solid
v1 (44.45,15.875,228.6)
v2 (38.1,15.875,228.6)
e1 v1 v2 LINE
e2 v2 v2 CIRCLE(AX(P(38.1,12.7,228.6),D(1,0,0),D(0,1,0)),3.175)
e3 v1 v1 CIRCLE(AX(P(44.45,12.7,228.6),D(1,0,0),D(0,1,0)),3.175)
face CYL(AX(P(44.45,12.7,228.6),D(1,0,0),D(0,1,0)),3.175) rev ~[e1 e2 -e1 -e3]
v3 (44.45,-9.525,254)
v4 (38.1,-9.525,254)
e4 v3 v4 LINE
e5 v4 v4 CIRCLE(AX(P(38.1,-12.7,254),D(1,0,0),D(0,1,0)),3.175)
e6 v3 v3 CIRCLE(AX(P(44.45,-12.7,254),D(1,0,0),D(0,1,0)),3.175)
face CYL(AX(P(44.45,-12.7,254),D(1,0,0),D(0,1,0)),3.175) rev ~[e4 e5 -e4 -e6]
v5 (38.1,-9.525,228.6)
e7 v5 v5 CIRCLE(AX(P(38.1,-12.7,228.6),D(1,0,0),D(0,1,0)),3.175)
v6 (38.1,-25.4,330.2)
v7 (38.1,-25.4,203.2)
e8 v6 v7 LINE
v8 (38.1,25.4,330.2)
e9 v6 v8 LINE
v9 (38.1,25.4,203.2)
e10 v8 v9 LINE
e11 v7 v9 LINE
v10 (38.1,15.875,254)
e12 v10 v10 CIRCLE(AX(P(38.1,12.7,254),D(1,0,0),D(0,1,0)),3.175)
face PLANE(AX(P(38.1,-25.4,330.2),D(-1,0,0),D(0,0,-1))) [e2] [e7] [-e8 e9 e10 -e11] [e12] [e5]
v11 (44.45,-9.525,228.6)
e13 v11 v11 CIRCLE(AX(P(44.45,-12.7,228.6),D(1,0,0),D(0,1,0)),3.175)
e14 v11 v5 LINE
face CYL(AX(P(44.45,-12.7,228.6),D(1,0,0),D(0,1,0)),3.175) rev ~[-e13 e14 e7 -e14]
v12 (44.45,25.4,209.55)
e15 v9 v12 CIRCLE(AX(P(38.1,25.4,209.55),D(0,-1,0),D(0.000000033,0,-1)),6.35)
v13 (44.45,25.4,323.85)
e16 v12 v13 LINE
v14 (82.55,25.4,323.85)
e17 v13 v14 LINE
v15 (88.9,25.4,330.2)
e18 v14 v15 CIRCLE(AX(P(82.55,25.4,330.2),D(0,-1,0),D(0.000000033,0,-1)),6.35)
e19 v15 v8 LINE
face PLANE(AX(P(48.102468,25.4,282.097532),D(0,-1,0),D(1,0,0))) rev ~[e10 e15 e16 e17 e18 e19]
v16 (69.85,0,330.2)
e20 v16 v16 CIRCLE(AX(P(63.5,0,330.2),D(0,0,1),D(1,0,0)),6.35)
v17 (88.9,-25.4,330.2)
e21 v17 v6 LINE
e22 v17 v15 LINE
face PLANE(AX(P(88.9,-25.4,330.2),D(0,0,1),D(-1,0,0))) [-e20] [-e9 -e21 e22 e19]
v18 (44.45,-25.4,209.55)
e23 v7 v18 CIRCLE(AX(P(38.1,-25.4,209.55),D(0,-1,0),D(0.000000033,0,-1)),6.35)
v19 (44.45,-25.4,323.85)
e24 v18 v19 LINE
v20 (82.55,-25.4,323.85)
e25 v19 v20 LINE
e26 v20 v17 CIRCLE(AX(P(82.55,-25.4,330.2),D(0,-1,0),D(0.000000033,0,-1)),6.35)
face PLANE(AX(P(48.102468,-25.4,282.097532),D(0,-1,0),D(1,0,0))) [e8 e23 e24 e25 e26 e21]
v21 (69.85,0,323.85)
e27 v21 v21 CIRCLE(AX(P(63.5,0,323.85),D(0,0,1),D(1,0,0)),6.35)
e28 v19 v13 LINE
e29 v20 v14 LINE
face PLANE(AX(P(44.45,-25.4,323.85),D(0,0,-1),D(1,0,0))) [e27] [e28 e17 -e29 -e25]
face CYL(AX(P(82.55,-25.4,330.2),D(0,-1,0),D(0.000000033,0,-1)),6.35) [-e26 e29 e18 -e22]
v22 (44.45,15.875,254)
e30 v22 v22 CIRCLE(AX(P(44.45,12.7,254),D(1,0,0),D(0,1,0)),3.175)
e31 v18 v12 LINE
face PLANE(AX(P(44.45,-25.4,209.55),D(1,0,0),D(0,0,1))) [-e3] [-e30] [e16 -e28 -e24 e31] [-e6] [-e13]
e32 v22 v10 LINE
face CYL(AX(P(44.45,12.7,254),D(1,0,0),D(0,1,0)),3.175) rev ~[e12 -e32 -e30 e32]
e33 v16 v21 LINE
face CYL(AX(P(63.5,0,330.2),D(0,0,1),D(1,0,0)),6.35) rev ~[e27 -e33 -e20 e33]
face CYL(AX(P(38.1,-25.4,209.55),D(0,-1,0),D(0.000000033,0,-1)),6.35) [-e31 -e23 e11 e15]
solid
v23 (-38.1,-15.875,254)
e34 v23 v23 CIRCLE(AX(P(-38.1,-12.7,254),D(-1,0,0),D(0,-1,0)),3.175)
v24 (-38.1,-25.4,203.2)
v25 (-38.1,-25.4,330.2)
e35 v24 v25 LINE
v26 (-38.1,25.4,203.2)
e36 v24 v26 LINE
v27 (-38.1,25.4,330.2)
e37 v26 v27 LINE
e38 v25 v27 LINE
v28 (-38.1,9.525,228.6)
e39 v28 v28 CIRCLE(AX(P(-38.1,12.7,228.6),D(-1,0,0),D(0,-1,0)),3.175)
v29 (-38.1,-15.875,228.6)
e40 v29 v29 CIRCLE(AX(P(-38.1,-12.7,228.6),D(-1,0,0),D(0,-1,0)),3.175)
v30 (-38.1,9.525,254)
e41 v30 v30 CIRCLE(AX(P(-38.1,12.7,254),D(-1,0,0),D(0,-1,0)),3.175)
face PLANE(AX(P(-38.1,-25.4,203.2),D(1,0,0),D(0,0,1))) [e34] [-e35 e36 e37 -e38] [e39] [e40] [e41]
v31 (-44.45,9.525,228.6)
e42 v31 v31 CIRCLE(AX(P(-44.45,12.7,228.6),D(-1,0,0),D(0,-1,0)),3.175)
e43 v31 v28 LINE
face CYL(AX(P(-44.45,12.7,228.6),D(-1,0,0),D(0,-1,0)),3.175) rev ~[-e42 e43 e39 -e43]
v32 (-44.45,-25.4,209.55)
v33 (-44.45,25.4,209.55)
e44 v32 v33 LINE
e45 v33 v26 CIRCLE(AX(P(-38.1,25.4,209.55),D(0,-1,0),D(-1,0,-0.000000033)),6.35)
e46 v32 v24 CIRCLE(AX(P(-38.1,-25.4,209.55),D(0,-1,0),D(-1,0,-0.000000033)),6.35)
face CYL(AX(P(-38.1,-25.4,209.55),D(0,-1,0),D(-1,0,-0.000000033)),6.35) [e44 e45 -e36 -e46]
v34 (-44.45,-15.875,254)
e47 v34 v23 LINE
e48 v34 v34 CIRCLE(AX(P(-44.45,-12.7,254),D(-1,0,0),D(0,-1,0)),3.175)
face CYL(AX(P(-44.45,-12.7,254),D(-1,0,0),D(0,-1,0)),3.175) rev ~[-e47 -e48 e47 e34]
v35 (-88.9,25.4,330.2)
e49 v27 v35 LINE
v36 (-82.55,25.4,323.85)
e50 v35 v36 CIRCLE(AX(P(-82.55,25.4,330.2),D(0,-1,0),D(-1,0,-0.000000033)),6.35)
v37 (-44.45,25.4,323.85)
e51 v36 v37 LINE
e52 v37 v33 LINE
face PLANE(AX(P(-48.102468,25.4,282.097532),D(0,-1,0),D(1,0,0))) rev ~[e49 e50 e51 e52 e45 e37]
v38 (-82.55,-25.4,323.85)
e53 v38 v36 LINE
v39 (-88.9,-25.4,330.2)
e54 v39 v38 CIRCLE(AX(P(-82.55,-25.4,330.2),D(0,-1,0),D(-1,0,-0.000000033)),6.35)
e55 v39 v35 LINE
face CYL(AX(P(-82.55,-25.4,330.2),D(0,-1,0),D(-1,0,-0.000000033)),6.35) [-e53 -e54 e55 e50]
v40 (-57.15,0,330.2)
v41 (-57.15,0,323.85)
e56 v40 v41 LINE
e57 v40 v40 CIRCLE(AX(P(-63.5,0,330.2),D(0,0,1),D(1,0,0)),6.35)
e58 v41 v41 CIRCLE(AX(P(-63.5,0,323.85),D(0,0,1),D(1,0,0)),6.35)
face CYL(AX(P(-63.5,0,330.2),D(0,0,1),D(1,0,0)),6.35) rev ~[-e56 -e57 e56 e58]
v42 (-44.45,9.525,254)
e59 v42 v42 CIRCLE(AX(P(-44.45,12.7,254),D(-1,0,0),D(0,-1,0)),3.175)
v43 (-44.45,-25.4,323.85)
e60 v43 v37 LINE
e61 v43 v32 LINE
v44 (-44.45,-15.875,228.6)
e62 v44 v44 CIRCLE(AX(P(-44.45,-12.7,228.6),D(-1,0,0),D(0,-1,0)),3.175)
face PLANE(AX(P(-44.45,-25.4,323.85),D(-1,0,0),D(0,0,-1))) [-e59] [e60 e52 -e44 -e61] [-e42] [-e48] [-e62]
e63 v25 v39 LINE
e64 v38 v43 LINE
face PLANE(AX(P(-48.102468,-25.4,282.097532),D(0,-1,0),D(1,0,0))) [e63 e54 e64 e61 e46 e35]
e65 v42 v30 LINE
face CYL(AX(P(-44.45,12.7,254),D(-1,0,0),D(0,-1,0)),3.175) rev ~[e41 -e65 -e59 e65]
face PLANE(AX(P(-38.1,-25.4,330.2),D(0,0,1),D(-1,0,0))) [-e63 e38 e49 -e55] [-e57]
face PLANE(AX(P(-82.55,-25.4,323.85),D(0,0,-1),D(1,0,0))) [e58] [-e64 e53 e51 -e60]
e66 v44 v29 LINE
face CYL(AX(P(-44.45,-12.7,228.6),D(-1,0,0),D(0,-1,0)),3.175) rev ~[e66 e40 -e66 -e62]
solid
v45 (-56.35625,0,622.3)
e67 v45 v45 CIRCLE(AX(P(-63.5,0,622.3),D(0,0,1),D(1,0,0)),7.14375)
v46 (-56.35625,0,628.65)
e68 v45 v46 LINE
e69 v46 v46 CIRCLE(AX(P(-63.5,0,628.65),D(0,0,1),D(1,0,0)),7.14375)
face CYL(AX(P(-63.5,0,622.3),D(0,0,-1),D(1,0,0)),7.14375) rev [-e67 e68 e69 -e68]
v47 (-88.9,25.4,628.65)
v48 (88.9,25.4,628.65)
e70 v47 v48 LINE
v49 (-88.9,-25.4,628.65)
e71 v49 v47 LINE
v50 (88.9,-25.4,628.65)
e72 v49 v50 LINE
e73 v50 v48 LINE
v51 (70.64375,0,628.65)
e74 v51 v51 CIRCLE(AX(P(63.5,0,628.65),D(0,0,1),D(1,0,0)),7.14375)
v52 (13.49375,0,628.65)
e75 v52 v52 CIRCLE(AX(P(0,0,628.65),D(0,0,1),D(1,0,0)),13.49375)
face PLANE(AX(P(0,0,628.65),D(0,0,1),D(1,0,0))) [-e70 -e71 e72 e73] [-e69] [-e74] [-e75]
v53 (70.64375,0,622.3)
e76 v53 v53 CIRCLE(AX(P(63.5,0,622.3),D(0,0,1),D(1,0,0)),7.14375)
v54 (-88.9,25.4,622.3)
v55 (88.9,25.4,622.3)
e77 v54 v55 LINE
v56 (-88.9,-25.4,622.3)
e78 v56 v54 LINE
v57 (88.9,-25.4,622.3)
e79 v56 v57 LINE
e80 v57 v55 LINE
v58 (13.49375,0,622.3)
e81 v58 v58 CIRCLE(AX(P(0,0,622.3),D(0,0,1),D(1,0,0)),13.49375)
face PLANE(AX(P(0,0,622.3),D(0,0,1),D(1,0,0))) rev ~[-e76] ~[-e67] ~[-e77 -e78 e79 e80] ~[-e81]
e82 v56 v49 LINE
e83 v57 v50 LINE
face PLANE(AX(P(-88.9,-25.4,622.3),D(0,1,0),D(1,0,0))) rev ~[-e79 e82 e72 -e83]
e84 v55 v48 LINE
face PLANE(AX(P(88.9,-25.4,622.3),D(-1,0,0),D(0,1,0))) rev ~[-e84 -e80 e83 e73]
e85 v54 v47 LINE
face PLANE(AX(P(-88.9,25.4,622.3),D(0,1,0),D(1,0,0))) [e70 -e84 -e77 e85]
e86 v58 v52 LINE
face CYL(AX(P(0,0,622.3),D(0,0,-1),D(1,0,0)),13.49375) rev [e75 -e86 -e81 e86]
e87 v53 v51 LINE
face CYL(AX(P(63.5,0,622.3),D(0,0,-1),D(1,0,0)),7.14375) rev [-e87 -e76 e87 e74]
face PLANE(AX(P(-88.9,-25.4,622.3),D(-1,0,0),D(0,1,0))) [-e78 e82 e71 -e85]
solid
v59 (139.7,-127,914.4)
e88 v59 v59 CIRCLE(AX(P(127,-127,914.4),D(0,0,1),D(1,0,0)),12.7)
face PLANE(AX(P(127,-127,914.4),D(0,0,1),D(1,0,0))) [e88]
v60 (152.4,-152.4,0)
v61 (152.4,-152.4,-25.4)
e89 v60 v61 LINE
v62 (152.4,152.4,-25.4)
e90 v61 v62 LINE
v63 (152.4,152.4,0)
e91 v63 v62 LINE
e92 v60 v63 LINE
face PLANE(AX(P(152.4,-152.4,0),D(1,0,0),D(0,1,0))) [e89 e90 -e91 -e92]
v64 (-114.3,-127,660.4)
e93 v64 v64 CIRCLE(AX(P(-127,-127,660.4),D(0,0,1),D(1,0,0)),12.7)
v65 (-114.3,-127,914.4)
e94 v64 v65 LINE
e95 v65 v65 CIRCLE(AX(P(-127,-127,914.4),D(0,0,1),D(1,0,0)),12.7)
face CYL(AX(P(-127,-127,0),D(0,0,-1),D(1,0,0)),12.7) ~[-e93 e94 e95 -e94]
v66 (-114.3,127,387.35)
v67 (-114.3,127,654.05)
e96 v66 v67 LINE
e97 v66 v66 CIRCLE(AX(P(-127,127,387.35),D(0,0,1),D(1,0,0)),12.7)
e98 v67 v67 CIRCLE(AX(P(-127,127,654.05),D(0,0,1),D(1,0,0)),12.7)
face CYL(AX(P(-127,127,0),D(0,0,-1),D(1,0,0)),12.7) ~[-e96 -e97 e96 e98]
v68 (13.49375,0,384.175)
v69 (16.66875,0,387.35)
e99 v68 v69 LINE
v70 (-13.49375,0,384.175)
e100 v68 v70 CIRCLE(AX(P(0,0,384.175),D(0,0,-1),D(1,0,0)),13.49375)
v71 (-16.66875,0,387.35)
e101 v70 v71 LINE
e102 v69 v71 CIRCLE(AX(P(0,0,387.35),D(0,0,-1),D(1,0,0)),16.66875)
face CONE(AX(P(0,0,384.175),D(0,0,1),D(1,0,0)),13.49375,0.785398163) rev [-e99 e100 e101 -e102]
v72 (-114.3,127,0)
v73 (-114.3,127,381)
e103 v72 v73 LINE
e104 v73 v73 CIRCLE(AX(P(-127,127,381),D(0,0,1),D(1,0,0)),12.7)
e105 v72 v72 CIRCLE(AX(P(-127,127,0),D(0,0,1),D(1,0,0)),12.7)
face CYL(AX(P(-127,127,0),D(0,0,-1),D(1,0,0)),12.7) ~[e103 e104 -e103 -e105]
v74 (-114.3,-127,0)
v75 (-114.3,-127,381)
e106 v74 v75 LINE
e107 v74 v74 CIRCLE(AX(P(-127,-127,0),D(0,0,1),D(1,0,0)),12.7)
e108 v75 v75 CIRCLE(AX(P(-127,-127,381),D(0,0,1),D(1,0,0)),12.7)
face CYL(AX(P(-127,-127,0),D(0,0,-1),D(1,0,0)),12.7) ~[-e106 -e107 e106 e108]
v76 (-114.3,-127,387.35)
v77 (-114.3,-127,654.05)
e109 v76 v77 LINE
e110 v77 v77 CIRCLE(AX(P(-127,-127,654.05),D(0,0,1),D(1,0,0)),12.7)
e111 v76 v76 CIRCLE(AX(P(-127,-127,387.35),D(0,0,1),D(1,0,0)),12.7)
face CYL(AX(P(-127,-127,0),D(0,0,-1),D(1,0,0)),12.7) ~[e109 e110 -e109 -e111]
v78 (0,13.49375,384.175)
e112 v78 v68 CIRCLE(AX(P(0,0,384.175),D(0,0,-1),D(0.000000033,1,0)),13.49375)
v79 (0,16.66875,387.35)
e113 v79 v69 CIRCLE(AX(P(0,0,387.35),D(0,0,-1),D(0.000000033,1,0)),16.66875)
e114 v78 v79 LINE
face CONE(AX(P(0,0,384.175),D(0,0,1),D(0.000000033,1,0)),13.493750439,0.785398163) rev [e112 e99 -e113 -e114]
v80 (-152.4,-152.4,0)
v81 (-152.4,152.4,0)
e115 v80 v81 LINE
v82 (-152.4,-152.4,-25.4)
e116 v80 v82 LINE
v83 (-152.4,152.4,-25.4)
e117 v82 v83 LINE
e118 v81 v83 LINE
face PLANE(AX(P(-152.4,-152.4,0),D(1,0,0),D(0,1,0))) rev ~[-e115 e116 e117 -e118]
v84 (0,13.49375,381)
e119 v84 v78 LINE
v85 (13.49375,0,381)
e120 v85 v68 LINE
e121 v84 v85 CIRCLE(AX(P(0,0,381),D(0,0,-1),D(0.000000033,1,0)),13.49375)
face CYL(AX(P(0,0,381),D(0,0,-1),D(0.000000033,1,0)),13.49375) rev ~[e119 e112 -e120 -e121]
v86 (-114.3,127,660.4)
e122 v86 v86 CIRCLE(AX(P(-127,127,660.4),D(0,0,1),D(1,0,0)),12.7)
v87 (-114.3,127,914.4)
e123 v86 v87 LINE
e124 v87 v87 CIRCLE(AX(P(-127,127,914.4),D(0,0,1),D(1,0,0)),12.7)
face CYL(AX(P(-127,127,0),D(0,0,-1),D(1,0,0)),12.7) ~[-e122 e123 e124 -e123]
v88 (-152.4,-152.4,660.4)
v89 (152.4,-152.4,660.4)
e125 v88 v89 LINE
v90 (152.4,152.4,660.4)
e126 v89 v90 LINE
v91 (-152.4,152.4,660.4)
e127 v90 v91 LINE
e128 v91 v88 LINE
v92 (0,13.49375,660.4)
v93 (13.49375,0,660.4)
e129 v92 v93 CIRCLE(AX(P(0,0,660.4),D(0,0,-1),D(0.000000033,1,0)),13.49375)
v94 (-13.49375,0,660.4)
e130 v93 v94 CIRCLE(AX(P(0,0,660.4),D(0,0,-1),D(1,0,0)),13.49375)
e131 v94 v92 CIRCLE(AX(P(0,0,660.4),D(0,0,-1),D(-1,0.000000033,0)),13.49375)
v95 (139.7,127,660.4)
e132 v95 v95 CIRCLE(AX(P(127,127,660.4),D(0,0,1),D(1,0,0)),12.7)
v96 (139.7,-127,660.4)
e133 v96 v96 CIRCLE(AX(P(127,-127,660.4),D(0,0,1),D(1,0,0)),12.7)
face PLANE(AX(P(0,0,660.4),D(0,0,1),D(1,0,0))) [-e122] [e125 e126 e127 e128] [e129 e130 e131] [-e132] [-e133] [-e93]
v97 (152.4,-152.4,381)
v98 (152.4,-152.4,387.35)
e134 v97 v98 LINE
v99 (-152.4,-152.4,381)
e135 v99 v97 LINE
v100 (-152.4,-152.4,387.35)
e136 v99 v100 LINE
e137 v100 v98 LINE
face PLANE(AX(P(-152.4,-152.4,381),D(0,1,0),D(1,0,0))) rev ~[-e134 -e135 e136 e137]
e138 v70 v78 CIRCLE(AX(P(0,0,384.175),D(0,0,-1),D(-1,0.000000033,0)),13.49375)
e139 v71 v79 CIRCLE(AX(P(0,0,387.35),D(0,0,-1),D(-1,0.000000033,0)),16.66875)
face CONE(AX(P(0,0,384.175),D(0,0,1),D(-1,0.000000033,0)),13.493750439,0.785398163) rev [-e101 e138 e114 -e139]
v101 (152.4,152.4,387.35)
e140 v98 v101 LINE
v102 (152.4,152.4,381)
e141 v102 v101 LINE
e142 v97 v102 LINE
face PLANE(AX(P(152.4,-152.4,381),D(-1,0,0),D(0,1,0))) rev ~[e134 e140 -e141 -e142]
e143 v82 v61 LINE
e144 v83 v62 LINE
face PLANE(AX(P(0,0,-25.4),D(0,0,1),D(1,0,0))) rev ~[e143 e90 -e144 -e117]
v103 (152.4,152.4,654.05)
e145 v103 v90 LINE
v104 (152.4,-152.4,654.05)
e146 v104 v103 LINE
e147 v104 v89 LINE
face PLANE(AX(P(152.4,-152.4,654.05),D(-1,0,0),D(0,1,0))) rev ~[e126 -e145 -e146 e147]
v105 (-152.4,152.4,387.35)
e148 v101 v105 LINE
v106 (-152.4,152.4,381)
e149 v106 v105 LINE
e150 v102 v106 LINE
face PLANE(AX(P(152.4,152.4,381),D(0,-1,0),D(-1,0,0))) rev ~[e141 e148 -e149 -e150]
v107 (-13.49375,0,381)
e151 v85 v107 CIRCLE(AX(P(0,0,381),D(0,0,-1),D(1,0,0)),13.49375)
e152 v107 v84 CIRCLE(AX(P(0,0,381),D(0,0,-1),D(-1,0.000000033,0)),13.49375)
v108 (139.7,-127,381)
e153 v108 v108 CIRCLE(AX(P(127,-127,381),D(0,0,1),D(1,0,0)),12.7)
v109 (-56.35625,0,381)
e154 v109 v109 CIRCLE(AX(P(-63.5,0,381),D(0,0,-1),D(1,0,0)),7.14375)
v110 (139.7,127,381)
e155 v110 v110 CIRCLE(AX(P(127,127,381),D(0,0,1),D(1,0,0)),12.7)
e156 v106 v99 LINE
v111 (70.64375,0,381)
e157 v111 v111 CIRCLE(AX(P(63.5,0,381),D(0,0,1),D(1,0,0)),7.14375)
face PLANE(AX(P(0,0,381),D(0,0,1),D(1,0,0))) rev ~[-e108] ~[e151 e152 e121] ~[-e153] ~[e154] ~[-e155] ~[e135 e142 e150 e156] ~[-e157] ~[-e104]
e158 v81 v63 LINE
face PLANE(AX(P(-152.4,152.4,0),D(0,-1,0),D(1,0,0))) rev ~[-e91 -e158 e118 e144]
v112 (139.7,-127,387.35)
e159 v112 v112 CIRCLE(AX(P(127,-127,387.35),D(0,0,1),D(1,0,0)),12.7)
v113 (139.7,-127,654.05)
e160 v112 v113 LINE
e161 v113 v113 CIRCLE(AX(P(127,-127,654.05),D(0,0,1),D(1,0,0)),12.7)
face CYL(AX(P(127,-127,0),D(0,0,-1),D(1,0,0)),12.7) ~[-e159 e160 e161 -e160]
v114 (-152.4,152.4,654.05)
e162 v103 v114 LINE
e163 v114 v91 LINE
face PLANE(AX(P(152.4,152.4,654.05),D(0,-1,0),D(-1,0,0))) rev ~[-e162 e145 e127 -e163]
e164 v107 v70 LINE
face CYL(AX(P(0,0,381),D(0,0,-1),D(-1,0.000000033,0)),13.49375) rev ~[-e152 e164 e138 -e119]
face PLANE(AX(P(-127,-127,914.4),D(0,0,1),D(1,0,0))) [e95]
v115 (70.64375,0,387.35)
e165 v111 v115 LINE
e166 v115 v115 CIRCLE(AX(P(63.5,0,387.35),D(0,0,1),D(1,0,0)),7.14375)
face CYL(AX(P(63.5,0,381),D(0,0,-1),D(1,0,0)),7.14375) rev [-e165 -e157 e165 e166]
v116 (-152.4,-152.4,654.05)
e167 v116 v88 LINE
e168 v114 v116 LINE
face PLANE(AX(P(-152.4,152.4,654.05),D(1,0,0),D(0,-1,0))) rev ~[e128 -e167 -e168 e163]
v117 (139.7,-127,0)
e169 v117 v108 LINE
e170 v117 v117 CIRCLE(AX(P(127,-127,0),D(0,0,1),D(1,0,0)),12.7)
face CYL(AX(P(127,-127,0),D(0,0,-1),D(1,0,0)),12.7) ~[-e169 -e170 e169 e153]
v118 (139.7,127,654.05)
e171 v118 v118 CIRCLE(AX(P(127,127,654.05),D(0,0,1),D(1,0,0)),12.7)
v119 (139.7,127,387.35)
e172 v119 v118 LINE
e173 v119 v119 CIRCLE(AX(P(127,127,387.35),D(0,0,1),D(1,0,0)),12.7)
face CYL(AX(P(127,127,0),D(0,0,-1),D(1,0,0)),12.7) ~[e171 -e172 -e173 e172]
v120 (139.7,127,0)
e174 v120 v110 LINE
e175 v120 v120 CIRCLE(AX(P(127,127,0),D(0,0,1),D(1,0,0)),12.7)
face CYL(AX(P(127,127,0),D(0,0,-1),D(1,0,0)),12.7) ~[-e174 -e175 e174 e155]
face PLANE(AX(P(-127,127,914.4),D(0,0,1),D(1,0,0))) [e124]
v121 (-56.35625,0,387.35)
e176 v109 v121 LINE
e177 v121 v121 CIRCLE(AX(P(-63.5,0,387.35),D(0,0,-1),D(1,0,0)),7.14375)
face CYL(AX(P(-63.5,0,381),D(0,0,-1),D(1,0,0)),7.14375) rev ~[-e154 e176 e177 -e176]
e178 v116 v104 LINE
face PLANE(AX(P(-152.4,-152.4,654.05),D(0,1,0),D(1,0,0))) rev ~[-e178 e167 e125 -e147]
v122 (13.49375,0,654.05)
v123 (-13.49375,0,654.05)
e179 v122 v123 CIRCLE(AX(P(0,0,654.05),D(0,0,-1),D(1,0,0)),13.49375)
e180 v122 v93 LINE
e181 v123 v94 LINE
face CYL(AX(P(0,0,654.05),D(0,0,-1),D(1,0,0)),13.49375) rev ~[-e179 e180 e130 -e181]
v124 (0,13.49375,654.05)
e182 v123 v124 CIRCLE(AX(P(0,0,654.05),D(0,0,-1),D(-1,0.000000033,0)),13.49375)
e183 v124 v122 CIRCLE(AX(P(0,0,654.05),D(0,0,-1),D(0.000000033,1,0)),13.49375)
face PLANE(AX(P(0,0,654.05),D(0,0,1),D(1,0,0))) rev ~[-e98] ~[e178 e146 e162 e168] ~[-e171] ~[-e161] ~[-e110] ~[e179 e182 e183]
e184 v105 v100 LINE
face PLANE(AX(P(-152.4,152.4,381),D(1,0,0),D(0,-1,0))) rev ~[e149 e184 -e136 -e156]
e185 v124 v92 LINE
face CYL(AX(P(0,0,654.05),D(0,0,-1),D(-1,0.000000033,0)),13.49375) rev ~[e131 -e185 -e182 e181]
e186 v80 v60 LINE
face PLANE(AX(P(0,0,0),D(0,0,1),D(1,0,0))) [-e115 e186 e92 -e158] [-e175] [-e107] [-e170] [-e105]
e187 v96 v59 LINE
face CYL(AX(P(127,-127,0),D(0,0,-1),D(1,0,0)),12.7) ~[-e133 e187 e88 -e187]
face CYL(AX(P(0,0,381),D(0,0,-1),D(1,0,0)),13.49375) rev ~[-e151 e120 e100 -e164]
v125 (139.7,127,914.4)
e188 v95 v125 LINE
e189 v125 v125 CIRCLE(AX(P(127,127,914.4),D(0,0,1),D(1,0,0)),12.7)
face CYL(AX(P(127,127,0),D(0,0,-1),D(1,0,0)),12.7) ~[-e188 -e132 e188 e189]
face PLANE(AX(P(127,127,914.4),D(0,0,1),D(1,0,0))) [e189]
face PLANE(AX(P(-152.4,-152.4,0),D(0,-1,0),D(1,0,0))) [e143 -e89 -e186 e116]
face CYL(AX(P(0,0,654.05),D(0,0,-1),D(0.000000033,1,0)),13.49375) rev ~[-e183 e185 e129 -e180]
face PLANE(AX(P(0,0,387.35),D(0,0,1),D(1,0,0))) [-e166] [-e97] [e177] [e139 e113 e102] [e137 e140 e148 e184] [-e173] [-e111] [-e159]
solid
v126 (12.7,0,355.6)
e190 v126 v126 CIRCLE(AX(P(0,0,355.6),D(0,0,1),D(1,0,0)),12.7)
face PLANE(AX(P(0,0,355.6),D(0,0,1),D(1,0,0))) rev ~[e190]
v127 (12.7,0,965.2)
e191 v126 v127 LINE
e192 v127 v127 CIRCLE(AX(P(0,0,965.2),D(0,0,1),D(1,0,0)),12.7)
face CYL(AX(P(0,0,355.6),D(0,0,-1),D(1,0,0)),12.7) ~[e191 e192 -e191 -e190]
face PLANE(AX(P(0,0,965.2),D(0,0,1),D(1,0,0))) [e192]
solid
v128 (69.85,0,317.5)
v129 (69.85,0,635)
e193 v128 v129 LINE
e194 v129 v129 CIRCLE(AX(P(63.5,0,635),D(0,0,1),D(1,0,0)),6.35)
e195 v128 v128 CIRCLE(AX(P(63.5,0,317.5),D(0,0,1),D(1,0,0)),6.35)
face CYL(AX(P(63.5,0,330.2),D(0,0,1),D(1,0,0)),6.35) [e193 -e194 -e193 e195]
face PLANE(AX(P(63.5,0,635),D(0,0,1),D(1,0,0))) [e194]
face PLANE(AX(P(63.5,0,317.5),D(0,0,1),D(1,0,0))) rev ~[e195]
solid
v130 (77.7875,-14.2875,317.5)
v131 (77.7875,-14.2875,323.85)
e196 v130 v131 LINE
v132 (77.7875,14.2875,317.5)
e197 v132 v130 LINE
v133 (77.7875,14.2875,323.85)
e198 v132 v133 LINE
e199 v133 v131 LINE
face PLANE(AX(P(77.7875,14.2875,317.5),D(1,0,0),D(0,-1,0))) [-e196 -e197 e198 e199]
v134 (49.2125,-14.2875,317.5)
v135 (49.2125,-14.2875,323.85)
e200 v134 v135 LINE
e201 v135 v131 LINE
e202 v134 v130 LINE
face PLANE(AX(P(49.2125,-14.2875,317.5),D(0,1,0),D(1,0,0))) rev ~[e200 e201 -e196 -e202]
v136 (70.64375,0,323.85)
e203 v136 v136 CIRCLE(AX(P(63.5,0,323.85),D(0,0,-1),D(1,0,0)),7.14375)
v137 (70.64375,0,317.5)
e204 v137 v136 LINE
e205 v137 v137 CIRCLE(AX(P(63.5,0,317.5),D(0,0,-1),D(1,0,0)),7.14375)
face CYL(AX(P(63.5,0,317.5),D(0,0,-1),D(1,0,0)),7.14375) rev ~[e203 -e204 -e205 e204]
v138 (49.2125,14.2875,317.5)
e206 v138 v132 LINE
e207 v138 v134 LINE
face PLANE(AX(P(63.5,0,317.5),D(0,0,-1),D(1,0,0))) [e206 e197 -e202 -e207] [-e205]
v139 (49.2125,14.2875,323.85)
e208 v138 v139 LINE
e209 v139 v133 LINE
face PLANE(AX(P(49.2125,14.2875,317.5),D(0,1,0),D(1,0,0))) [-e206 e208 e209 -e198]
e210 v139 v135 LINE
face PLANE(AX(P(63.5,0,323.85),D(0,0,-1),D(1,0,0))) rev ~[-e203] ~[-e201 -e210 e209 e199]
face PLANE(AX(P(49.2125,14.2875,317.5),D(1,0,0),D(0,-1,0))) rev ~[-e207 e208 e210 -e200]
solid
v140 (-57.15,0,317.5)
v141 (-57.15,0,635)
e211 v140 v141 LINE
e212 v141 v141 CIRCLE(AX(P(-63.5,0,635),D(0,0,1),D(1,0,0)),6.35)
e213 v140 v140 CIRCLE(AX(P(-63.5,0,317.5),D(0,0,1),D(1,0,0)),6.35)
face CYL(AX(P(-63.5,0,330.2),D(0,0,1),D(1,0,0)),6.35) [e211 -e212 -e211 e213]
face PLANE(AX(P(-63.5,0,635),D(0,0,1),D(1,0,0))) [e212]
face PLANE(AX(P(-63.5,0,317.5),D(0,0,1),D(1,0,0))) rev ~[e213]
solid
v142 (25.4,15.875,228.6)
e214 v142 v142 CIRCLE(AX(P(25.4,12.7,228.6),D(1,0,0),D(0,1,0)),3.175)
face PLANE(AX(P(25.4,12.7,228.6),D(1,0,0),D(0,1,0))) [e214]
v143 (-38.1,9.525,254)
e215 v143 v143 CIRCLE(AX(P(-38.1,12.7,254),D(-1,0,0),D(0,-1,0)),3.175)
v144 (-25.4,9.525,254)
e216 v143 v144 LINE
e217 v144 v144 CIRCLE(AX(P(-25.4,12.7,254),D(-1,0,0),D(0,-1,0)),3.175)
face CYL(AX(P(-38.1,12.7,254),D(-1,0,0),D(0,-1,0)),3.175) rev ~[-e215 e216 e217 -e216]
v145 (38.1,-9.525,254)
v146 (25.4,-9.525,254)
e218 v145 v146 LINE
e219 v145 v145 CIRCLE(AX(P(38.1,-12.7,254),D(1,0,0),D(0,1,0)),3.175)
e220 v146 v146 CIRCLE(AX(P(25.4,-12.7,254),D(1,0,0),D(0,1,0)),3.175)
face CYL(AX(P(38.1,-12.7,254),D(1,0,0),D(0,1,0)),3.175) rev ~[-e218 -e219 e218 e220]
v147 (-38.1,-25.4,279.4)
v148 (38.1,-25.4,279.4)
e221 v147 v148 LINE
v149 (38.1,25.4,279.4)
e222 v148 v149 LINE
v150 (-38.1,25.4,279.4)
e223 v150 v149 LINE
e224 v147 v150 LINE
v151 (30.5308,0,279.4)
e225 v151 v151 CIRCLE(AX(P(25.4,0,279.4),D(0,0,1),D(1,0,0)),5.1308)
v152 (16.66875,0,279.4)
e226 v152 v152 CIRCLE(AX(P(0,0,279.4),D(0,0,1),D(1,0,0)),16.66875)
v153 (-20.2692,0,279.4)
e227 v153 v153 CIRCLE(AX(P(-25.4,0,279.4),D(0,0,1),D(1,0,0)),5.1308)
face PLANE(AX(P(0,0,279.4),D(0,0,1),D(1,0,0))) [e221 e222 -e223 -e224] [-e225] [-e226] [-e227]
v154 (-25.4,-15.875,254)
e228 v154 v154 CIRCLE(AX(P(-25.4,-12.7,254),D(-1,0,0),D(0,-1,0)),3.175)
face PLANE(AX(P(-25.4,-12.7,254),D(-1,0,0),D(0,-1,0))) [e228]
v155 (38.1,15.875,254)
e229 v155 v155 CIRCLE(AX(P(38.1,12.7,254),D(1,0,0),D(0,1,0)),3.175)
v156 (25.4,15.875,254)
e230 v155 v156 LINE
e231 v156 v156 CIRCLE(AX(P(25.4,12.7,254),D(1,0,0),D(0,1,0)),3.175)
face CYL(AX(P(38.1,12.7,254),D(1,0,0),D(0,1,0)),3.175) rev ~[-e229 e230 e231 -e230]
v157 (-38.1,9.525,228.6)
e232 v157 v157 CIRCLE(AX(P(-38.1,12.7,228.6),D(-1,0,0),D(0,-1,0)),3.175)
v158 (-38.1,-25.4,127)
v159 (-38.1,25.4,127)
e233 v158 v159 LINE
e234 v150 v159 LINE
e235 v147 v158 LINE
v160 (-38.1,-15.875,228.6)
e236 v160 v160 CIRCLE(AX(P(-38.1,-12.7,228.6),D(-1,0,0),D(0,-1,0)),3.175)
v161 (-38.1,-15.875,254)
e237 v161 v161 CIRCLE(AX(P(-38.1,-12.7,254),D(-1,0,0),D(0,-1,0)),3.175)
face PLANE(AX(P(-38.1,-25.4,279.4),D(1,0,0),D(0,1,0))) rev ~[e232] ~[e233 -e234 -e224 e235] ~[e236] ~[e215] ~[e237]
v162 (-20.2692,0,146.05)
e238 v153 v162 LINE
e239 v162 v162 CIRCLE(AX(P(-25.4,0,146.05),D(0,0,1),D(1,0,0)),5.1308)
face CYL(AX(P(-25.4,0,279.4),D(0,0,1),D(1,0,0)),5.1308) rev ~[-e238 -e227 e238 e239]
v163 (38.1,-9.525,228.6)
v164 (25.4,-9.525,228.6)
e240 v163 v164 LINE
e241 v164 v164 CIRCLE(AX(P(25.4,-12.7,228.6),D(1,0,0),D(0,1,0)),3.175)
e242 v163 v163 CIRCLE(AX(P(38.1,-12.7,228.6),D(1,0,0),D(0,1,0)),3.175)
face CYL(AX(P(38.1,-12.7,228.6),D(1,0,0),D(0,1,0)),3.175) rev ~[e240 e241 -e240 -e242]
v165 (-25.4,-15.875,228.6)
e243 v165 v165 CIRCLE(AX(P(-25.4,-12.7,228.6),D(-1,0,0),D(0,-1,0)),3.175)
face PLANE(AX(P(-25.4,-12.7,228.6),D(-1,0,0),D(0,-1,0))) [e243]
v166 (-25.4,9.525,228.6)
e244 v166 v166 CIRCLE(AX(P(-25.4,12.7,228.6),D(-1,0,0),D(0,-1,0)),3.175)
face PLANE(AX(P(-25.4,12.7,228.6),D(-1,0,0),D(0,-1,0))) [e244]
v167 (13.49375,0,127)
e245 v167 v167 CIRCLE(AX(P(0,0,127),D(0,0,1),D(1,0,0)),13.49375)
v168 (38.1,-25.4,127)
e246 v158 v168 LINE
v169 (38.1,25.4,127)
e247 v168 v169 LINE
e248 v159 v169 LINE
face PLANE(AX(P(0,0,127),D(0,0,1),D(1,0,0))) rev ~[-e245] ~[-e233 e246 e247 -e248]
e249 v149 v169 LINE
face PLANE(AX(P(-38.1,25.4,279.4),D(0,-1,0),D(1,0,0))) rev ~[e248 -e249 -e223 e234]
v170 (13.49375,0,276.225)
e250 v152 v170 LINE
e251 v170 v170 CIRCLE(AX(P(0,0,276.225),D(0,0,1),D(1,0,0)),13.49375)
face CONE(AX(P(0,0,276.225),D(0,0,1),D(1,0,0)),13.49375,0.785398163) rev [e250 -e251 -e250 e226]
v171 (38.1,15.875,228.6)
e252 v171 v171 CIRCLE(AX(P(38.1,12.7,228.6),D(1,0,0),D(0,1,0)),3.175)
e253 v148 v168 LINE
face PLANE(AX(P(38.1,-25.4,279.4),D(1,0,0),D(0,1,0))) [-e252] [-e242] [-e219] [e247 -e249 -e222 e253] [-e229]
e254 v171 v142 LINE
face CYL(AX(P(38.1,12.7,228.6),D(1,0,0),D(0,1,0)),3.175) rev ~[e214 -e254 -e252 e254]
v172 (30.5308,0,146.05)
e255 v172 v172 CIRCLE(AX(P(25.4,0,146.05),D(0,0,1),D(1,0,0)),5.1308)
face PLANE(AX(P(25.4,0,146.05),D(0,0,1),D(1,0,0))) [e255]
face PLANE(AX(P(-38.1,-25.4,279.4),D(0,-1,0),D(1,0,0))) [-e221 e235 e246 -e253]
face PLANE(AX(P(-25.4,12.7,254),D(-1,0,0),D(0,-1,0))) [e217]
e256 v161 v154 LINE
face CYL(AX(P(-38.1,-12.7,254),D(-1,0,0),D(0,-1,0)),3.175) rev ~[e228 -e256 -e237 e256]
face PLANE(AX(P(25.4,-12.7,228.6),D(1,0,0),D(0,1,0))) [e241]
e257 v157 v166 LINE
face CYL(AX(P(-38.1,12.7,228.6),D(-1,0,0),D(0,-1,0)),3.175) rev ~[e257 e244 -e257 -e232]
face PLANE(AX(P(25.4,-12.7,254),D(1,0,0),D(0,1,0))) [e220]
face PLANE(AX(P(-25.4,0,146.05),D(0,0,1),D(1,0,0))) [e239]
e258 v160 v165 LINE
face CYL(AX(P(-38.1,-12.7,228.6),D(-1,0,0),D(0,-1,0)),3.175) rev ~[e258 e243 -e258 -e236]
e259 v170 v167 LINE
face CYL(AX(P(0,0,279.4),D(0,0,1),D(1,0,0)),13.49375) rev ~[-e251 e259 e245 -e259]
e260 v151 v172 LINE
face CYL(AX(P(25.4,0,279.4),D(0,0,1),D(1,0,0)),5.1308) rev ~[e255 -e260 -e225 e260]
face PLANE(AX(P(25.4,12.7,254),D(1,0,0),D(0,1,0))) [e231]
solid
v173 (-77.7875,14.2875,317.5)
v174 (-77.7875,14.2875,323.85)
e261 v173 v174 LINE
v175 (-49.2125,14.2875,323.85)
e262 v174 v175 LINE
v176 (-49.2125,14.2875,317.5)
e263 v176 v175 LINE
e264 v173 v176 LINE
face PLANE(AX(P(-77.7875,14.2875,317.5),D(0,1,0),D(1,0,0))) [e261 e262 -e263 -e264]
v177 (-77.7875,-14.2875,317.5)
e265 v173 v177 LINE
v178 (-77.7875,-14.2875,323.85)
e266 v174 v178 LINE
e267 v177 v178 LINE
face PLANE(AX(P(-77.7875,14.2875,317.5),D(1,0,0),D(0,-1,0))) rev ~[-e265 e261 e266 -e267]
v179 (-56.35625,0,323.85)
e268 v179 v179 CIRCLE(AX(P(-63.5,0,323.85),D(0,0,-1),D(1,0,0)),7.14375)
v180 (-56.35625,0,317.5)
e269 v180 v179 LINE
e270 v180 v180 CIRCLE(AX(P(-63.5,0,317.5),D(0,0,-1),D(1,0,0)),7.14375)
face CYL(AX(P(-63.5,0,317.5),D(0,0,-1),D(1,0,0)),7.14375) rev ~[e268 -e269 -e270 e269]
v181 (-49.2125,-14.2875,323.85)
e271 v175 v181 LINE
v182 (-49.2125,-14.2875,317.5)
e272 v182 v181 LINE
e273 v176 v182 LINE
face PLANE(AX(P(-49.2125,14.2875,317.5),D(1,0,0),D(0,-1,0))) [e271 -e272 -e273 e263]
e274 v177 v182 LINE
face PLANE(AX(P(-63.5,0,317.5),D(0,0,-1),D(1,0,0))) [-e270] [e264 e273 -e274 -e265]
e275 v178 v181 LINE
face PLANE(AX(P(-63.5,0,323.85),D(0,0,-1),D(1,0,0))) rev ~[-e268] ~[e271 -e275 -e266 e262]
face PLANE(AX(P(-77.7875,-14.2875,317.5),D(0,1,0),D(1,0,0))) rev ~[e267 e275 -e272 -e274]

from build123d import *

# Parameters (mm, degrees)
F0_W           = 304.8
F0_H           = 304.8
F1_DEPTH       = 25.4
F2_R           = 12.7
F3_DEPTH       = 914.4
F5_R           = 12.7
F5_R_2         = 7.14375
F6_DEPTH       = 6.35
F8_W           = 76.2
F8_H           = 50.8
F8_R           = 13.49375
F9_DEPTH       = 152.4
F10_R          = 5.1308
F11_DEPTH      = 133.35
F12_R          = 3.175
F13_DEPTH      = 12.7
F14_R          = 3.175
F15_DEPTH      = 12.7
F17_DEPTH      = 50.8
F18_R          = 3.175
F19_DEPTH      = 6.35
F20_R          = 3.175
F21_DEPTH      = 6.35
F22_R          = 6.35
F23_DEPTH      = 6.35
F24_R          = 6.35
F25_DEPTH      = 304.8
F25_DEPTH_BACK = 12.7
F27_W          = 177.8
F27_H          = 50.8
F27_R          = 7.14375
F27_R_2        = 13.49375
F28_DEPTH      = 6.35
F29_SIZE       = 3.175
F30_SIZE       = 3.175
F32_R          = 12.7
F33_DEPTH      = 6.35
F34_W          = 28.575
F34_H          = 28.575
F34_R          = 7.14375
F35_DEPTH      = 6.35
F36_W          = 28.575
F36_H          = 28.575
F36_R          = 7.14375
F37_DEPTH      = 6.35
F39_R          = 12.7
F40_DEPTH      = 609.6


with BuildPart() as f1:
    # F0 (on Top) → F1 (new body)
    with BuildSketch(Plane.XY):
        Rectangle(F0_W, F0_H)
    extrude(amount=-F1_DEPTH)

    # F2 (on face) → F3 (join)
    with BuildSketch(Plane.XY):
        with Locations((-127, 127)):
            Circle(F2_R)
        with Locations((127, 127)):
            Circle(F2_R)
        with Locations((-127, -127)):
            Circle(F2_R)
        with Locations((127, -127)):
            Circle(F2_R)
    extrude(amount=F3_DEPTH)

    # F5 (on offset) → F6 (join)
    with BuildSketch(Plane.XY.offset(381)):
        Polygon((-152.4, 152.4), (-152.4, 0), (-152.4, -152.4), (152.4, -152.4), (152.4, 152.4), align=None)
        with Locations((-127, -127)):
            Circle(F5_R, mode=Mode.SUBTRACT)
        with Locations((127, -127)):
            Circle(F5_R, mode=Mode.SUBTRACT)
        with BuildLine():
            ThreePointArc((-70.64375, 0), (-63.5, 7.14375), (-56.35625, 0))
            ThreePointArc((-56.35625, 0), (-63.5, -7.14375), (-70.64375, 0))
        make_face(mode=Mode.SUBTRACT)
        with Locations((-127, 127)):
            Circle(F5_R, mode=Mode.SUBTRACT)
        with BuildLine():
            ThreePointArc((-13.49375, 0), (-9.541522, 9.541522), (0, 13.49375))
            ThreePointArc((0, 13.49375), (9.541522, 9.541522), (13.49375, 0))
            ThreePointArc((13.49375, 0), (0, -13.49375), (-13.49375, 0))
        make_face(mode=Mode.SUBTRACT)
        with Locations((63.5, 0)):
            Circle(F5_R_2, mode=Mode.SUBTRACT)
        with Locations((127, 127)):
            Circle(F5_R, mode=Mode.SUBTRACT)
    extrude(amount=F6_DEPTH)

    # F30
    f30_edges = [f1.edges().sort_by_distance(p)[0] for p in [
        (0, -13.49375, 387.35),
    ]]
    chamfer(f30_edges, length=F30_SIZE)

    # F32 (on offset) → F33 (join)
    with BuildSketch(Plane.XY.offset(654.05)):
        Polygon((-152.4, 152.4), (-152.4, 0), (-152.4, -152.4), (152.4, -152.4), (152.4, 152.4), align=None)
        with Locations((-127, -127)):
            Circle(F32_R, mode=Mode.SUBTRACT)
        with Locations((127, -127)):
            Circle(F32_R, mode=Mode.SUBTRACT)
        with Locations((-127, 127)):
            Circle(F32_R, mode=Mode.SUBTRACT)
        with BuildLine():
            ThreePointArc((-13.49375, 0), (-9.541522, 9.541522), (0, 13.49375))
            ThreePointArc((0, 13.49375), (9.541522, 9.541522), (13.49375, 0))
            ThreePointArc((13.49375, 0), (0, -13.49375), (-13.49375, 0))
        make_face(mode=Mode.SUBTRACT)
        with Locations((127, 127)):
            Circle(F32_R, mode=Mode.SUBTRACT)
    extrude(amount=F33_DEPTH)


with BuildPart() as f9:
    # F8 (on offset) → F9 (new body)
    with BuildSketch(Plane.XY.offset(279.4)):
        Rectangle(F8_W, F8_H)
        Circle(F8_R, mode=Mode.SUBTRACT)
    extrude(amount=-F9_DEPTH)

    # F10 (on face) → F11 (cut)
    with BuildSketch(Plane.XY.offset(279.4)):
        with Locations((-25.4, 0)):
            Circle(F10_R)
        with Locations((25.4, 0)):
            Circle(F10_R)
    extrude(amount=-F11_DEPTH, mode=Mode.SUBTRACT)

    # F12 (on face) → F13 (cut)
    with BuildSketch(Plane(origin=(-38.1, 0, 0), x_dir=(0, -1, 0), z_dir=(-1, 0, 0))):
        with Locations((-12.7, 254)):
            Circle(F12_R)
        with Locations((-12.7, 228.6)):
            Circle(F12_R)
        with Locations((12.7, 228.6)):
            Circle(F12_R)
        with Locations((12.7, 254)):
            Circle(F12_R)
    extrude(amount=-F13_DEPTH, mode=Mode.SUBTRACT)

    # F14 (on face) → F15 (cut)
    with BuildSketch(Plane.YZ.offset(38.1)):
        with Locations((-12.7, 254)):
            Circle(F14_R)
        with Locations((-12.7, 228.6)):
            Circle(F14_R)
        with Locations((12.7, 228.6)):
            Circle(F14_R)
        with Locations((12.7, 254)):
            Circle(F14_R)
    extrude(amount=-F15_DEPTH, mode=Mode.SUBTRACT)

    # F29
    f29_edges = [f9.edges().sort_by_distance(p)[0] for p in [
        (-13.49375, 0, 279.4),
    ]]
    chamfer(f29_edges, length=F29_SIZE)


with BuildPart() as f17:
    # F16 (on face) → F17 (new body)
    with BuildSketch(Plane.XZ.offset(25.4)):
        with BuildLine():
            Line((88.9, 330.2), (38.1, 330.2))
            Line((38.1, 330.2), (38.1, 203.2))
            ThreePointArc((38.1, 203.2), (42.590128, 205.059872), (44.45, 209.55))
            Line((44.45, 209.55), (44.45, 323.85))
            Line((44.45, 323.85), (82.55, 323.85))
            ThreePointArc((82.55, 323.85), (87.040128, 325.709872), (88.9, 330.2))
        make_face()
        with BuildLine():
            Line((-38.1, 203.2), (-38.1, 330.2))
            Line((-38.1, 330.2), (-88.9, 330.2))
            ThreePointArc((-88.9, 330.2), (-87.040128, 325.709872), (-82.55, 323.85))
            Line((-82.55, 323.85), (-44.45, 323.85))
            Line((-44.45, 323.85), (-44.45, 209.55))
            ThreePointArc((-44.45, 209.55), (-42.590128, 205.059872), (-38.1, 203.2))
        make_face()
    extrude(amount=-F17_DEPTH)

    # F18 (on face) → F19 (cut)
    with BuildSketch(Plane.YZ.offset(44.45)):
        with Locations((-12.7, 254)):
            Circle(F18_R)
        with Locations((-12.7, 228.6)):
            Circle(F18_R)
        with Locations((12.7, 228.6)):
            Circle(F18_R)
        with Locations((12.7, 254)):
            Circle(F18_R)
    extrude(amount=-F19_DEPTH, mode=Mode.SUBTRACT)

    # F20 (on face) → F21 (cut)
    with BuildSketch(Plane(origin=(-44.45, 0, 0), x_dir=(0, -1, 0), z_dir=(-1, 0, 0))):
        with Locations((-12.7, 254)):
            Circle(F20_R)
        with Locations((-12.7, 228.6)):
            Circle(F20_R)
        with Locations((12.7, 228.6)):
            Circle(F20_R)
        with Locations((12.7, 254)):
            Circle(F20_R)
    extrude(amount=-F21_DEPTH, mode=Mode.SUBTRACT)

    # F22 (on face) → F23 (cut)
    with BuildSketch(Plane.XY.offset(330.2)):
        with Locations((63.5, 0)):
            Circle(F22_R)
        with Locations((-63.5, 0)):
            Circle(F22_R)
    extrude(amount=-F23_DEPTH, mode=Mode.SUBTRACT)


with BuildPart() as f25:
    # F24 (on face) → F25 (new body, two sides)
    with BuildSketch(Plane.XY.offset(330.2)) as f25_sk:
        with Locations((63.5, 0)):
            Circle(F24_R)
        with Locations((-63.5, 0)):
            Circle(F24_R)
    extrude(amount=F25_DEPTH)
    extrude(f25_sk.sketch, amount=-F25_DEPTH_BACK)


with BuildPart() as f28:
    # F27 (on offset) → F28 (new body)
    with BuildSketch(Plane.XY.offset(622.3)):
        Rectangle(F27_W, F27_H)
        with Locations((-63.5, 0)):
            Circle(F27_R, mode=Mode.SUBTRACT)
        Circle(F27_R_2, mode=Mode.SUBTRACT)
        with Locations((63.5, 0)):
            Circle(F27_R, mode=Mode.SUBTRACT)
    extrude(amount=F28_DEPTH)


with BuildPart() as f35:
    # F34 (on face) → F35 (new body)
    with BuildSketch(Plane(origin=(0, 0, 317.5), x_dir=(1, 0, 0), z_dir=(0, 0, -1))):
        with Locations((63.5, 0)):
            Rectangle(F34_W, F34_H)
        with Locations((63.5, 0)):
            Circle(F34_R, mode=Mode.SUBTRACT)
    extrude(amount=-F35_DEPTH)


with BuildPart() as f37:
    # F36 (on face) → F37 (new body)
    with BuildSketch(Plane(origin=(0, 0, 317.5), x_dir=(1, 0, 0), z_dir=(0, 0, -1))):
        with Locations((-63.5, 0)):
            Rectangle(F36_W, F36_H)
        with Locations((-63.5, 0)):
            Circle(F36_R, mode=Mode.SUBTRACT)
    extrude(amount=-F37_DEPTH)


with BuildPart() as f40:
    # F39 (on offset) → F40 (new body)
    with BuildSketch(Plane.XY.offset(355.6)):
        Circle(F39_R)
    extrude(amount=F40_DEPTH)


solid = Compound([f1.part, f9.part, f17.part, f25.part, f28.part, f35.part, f37.part, f40.part])
